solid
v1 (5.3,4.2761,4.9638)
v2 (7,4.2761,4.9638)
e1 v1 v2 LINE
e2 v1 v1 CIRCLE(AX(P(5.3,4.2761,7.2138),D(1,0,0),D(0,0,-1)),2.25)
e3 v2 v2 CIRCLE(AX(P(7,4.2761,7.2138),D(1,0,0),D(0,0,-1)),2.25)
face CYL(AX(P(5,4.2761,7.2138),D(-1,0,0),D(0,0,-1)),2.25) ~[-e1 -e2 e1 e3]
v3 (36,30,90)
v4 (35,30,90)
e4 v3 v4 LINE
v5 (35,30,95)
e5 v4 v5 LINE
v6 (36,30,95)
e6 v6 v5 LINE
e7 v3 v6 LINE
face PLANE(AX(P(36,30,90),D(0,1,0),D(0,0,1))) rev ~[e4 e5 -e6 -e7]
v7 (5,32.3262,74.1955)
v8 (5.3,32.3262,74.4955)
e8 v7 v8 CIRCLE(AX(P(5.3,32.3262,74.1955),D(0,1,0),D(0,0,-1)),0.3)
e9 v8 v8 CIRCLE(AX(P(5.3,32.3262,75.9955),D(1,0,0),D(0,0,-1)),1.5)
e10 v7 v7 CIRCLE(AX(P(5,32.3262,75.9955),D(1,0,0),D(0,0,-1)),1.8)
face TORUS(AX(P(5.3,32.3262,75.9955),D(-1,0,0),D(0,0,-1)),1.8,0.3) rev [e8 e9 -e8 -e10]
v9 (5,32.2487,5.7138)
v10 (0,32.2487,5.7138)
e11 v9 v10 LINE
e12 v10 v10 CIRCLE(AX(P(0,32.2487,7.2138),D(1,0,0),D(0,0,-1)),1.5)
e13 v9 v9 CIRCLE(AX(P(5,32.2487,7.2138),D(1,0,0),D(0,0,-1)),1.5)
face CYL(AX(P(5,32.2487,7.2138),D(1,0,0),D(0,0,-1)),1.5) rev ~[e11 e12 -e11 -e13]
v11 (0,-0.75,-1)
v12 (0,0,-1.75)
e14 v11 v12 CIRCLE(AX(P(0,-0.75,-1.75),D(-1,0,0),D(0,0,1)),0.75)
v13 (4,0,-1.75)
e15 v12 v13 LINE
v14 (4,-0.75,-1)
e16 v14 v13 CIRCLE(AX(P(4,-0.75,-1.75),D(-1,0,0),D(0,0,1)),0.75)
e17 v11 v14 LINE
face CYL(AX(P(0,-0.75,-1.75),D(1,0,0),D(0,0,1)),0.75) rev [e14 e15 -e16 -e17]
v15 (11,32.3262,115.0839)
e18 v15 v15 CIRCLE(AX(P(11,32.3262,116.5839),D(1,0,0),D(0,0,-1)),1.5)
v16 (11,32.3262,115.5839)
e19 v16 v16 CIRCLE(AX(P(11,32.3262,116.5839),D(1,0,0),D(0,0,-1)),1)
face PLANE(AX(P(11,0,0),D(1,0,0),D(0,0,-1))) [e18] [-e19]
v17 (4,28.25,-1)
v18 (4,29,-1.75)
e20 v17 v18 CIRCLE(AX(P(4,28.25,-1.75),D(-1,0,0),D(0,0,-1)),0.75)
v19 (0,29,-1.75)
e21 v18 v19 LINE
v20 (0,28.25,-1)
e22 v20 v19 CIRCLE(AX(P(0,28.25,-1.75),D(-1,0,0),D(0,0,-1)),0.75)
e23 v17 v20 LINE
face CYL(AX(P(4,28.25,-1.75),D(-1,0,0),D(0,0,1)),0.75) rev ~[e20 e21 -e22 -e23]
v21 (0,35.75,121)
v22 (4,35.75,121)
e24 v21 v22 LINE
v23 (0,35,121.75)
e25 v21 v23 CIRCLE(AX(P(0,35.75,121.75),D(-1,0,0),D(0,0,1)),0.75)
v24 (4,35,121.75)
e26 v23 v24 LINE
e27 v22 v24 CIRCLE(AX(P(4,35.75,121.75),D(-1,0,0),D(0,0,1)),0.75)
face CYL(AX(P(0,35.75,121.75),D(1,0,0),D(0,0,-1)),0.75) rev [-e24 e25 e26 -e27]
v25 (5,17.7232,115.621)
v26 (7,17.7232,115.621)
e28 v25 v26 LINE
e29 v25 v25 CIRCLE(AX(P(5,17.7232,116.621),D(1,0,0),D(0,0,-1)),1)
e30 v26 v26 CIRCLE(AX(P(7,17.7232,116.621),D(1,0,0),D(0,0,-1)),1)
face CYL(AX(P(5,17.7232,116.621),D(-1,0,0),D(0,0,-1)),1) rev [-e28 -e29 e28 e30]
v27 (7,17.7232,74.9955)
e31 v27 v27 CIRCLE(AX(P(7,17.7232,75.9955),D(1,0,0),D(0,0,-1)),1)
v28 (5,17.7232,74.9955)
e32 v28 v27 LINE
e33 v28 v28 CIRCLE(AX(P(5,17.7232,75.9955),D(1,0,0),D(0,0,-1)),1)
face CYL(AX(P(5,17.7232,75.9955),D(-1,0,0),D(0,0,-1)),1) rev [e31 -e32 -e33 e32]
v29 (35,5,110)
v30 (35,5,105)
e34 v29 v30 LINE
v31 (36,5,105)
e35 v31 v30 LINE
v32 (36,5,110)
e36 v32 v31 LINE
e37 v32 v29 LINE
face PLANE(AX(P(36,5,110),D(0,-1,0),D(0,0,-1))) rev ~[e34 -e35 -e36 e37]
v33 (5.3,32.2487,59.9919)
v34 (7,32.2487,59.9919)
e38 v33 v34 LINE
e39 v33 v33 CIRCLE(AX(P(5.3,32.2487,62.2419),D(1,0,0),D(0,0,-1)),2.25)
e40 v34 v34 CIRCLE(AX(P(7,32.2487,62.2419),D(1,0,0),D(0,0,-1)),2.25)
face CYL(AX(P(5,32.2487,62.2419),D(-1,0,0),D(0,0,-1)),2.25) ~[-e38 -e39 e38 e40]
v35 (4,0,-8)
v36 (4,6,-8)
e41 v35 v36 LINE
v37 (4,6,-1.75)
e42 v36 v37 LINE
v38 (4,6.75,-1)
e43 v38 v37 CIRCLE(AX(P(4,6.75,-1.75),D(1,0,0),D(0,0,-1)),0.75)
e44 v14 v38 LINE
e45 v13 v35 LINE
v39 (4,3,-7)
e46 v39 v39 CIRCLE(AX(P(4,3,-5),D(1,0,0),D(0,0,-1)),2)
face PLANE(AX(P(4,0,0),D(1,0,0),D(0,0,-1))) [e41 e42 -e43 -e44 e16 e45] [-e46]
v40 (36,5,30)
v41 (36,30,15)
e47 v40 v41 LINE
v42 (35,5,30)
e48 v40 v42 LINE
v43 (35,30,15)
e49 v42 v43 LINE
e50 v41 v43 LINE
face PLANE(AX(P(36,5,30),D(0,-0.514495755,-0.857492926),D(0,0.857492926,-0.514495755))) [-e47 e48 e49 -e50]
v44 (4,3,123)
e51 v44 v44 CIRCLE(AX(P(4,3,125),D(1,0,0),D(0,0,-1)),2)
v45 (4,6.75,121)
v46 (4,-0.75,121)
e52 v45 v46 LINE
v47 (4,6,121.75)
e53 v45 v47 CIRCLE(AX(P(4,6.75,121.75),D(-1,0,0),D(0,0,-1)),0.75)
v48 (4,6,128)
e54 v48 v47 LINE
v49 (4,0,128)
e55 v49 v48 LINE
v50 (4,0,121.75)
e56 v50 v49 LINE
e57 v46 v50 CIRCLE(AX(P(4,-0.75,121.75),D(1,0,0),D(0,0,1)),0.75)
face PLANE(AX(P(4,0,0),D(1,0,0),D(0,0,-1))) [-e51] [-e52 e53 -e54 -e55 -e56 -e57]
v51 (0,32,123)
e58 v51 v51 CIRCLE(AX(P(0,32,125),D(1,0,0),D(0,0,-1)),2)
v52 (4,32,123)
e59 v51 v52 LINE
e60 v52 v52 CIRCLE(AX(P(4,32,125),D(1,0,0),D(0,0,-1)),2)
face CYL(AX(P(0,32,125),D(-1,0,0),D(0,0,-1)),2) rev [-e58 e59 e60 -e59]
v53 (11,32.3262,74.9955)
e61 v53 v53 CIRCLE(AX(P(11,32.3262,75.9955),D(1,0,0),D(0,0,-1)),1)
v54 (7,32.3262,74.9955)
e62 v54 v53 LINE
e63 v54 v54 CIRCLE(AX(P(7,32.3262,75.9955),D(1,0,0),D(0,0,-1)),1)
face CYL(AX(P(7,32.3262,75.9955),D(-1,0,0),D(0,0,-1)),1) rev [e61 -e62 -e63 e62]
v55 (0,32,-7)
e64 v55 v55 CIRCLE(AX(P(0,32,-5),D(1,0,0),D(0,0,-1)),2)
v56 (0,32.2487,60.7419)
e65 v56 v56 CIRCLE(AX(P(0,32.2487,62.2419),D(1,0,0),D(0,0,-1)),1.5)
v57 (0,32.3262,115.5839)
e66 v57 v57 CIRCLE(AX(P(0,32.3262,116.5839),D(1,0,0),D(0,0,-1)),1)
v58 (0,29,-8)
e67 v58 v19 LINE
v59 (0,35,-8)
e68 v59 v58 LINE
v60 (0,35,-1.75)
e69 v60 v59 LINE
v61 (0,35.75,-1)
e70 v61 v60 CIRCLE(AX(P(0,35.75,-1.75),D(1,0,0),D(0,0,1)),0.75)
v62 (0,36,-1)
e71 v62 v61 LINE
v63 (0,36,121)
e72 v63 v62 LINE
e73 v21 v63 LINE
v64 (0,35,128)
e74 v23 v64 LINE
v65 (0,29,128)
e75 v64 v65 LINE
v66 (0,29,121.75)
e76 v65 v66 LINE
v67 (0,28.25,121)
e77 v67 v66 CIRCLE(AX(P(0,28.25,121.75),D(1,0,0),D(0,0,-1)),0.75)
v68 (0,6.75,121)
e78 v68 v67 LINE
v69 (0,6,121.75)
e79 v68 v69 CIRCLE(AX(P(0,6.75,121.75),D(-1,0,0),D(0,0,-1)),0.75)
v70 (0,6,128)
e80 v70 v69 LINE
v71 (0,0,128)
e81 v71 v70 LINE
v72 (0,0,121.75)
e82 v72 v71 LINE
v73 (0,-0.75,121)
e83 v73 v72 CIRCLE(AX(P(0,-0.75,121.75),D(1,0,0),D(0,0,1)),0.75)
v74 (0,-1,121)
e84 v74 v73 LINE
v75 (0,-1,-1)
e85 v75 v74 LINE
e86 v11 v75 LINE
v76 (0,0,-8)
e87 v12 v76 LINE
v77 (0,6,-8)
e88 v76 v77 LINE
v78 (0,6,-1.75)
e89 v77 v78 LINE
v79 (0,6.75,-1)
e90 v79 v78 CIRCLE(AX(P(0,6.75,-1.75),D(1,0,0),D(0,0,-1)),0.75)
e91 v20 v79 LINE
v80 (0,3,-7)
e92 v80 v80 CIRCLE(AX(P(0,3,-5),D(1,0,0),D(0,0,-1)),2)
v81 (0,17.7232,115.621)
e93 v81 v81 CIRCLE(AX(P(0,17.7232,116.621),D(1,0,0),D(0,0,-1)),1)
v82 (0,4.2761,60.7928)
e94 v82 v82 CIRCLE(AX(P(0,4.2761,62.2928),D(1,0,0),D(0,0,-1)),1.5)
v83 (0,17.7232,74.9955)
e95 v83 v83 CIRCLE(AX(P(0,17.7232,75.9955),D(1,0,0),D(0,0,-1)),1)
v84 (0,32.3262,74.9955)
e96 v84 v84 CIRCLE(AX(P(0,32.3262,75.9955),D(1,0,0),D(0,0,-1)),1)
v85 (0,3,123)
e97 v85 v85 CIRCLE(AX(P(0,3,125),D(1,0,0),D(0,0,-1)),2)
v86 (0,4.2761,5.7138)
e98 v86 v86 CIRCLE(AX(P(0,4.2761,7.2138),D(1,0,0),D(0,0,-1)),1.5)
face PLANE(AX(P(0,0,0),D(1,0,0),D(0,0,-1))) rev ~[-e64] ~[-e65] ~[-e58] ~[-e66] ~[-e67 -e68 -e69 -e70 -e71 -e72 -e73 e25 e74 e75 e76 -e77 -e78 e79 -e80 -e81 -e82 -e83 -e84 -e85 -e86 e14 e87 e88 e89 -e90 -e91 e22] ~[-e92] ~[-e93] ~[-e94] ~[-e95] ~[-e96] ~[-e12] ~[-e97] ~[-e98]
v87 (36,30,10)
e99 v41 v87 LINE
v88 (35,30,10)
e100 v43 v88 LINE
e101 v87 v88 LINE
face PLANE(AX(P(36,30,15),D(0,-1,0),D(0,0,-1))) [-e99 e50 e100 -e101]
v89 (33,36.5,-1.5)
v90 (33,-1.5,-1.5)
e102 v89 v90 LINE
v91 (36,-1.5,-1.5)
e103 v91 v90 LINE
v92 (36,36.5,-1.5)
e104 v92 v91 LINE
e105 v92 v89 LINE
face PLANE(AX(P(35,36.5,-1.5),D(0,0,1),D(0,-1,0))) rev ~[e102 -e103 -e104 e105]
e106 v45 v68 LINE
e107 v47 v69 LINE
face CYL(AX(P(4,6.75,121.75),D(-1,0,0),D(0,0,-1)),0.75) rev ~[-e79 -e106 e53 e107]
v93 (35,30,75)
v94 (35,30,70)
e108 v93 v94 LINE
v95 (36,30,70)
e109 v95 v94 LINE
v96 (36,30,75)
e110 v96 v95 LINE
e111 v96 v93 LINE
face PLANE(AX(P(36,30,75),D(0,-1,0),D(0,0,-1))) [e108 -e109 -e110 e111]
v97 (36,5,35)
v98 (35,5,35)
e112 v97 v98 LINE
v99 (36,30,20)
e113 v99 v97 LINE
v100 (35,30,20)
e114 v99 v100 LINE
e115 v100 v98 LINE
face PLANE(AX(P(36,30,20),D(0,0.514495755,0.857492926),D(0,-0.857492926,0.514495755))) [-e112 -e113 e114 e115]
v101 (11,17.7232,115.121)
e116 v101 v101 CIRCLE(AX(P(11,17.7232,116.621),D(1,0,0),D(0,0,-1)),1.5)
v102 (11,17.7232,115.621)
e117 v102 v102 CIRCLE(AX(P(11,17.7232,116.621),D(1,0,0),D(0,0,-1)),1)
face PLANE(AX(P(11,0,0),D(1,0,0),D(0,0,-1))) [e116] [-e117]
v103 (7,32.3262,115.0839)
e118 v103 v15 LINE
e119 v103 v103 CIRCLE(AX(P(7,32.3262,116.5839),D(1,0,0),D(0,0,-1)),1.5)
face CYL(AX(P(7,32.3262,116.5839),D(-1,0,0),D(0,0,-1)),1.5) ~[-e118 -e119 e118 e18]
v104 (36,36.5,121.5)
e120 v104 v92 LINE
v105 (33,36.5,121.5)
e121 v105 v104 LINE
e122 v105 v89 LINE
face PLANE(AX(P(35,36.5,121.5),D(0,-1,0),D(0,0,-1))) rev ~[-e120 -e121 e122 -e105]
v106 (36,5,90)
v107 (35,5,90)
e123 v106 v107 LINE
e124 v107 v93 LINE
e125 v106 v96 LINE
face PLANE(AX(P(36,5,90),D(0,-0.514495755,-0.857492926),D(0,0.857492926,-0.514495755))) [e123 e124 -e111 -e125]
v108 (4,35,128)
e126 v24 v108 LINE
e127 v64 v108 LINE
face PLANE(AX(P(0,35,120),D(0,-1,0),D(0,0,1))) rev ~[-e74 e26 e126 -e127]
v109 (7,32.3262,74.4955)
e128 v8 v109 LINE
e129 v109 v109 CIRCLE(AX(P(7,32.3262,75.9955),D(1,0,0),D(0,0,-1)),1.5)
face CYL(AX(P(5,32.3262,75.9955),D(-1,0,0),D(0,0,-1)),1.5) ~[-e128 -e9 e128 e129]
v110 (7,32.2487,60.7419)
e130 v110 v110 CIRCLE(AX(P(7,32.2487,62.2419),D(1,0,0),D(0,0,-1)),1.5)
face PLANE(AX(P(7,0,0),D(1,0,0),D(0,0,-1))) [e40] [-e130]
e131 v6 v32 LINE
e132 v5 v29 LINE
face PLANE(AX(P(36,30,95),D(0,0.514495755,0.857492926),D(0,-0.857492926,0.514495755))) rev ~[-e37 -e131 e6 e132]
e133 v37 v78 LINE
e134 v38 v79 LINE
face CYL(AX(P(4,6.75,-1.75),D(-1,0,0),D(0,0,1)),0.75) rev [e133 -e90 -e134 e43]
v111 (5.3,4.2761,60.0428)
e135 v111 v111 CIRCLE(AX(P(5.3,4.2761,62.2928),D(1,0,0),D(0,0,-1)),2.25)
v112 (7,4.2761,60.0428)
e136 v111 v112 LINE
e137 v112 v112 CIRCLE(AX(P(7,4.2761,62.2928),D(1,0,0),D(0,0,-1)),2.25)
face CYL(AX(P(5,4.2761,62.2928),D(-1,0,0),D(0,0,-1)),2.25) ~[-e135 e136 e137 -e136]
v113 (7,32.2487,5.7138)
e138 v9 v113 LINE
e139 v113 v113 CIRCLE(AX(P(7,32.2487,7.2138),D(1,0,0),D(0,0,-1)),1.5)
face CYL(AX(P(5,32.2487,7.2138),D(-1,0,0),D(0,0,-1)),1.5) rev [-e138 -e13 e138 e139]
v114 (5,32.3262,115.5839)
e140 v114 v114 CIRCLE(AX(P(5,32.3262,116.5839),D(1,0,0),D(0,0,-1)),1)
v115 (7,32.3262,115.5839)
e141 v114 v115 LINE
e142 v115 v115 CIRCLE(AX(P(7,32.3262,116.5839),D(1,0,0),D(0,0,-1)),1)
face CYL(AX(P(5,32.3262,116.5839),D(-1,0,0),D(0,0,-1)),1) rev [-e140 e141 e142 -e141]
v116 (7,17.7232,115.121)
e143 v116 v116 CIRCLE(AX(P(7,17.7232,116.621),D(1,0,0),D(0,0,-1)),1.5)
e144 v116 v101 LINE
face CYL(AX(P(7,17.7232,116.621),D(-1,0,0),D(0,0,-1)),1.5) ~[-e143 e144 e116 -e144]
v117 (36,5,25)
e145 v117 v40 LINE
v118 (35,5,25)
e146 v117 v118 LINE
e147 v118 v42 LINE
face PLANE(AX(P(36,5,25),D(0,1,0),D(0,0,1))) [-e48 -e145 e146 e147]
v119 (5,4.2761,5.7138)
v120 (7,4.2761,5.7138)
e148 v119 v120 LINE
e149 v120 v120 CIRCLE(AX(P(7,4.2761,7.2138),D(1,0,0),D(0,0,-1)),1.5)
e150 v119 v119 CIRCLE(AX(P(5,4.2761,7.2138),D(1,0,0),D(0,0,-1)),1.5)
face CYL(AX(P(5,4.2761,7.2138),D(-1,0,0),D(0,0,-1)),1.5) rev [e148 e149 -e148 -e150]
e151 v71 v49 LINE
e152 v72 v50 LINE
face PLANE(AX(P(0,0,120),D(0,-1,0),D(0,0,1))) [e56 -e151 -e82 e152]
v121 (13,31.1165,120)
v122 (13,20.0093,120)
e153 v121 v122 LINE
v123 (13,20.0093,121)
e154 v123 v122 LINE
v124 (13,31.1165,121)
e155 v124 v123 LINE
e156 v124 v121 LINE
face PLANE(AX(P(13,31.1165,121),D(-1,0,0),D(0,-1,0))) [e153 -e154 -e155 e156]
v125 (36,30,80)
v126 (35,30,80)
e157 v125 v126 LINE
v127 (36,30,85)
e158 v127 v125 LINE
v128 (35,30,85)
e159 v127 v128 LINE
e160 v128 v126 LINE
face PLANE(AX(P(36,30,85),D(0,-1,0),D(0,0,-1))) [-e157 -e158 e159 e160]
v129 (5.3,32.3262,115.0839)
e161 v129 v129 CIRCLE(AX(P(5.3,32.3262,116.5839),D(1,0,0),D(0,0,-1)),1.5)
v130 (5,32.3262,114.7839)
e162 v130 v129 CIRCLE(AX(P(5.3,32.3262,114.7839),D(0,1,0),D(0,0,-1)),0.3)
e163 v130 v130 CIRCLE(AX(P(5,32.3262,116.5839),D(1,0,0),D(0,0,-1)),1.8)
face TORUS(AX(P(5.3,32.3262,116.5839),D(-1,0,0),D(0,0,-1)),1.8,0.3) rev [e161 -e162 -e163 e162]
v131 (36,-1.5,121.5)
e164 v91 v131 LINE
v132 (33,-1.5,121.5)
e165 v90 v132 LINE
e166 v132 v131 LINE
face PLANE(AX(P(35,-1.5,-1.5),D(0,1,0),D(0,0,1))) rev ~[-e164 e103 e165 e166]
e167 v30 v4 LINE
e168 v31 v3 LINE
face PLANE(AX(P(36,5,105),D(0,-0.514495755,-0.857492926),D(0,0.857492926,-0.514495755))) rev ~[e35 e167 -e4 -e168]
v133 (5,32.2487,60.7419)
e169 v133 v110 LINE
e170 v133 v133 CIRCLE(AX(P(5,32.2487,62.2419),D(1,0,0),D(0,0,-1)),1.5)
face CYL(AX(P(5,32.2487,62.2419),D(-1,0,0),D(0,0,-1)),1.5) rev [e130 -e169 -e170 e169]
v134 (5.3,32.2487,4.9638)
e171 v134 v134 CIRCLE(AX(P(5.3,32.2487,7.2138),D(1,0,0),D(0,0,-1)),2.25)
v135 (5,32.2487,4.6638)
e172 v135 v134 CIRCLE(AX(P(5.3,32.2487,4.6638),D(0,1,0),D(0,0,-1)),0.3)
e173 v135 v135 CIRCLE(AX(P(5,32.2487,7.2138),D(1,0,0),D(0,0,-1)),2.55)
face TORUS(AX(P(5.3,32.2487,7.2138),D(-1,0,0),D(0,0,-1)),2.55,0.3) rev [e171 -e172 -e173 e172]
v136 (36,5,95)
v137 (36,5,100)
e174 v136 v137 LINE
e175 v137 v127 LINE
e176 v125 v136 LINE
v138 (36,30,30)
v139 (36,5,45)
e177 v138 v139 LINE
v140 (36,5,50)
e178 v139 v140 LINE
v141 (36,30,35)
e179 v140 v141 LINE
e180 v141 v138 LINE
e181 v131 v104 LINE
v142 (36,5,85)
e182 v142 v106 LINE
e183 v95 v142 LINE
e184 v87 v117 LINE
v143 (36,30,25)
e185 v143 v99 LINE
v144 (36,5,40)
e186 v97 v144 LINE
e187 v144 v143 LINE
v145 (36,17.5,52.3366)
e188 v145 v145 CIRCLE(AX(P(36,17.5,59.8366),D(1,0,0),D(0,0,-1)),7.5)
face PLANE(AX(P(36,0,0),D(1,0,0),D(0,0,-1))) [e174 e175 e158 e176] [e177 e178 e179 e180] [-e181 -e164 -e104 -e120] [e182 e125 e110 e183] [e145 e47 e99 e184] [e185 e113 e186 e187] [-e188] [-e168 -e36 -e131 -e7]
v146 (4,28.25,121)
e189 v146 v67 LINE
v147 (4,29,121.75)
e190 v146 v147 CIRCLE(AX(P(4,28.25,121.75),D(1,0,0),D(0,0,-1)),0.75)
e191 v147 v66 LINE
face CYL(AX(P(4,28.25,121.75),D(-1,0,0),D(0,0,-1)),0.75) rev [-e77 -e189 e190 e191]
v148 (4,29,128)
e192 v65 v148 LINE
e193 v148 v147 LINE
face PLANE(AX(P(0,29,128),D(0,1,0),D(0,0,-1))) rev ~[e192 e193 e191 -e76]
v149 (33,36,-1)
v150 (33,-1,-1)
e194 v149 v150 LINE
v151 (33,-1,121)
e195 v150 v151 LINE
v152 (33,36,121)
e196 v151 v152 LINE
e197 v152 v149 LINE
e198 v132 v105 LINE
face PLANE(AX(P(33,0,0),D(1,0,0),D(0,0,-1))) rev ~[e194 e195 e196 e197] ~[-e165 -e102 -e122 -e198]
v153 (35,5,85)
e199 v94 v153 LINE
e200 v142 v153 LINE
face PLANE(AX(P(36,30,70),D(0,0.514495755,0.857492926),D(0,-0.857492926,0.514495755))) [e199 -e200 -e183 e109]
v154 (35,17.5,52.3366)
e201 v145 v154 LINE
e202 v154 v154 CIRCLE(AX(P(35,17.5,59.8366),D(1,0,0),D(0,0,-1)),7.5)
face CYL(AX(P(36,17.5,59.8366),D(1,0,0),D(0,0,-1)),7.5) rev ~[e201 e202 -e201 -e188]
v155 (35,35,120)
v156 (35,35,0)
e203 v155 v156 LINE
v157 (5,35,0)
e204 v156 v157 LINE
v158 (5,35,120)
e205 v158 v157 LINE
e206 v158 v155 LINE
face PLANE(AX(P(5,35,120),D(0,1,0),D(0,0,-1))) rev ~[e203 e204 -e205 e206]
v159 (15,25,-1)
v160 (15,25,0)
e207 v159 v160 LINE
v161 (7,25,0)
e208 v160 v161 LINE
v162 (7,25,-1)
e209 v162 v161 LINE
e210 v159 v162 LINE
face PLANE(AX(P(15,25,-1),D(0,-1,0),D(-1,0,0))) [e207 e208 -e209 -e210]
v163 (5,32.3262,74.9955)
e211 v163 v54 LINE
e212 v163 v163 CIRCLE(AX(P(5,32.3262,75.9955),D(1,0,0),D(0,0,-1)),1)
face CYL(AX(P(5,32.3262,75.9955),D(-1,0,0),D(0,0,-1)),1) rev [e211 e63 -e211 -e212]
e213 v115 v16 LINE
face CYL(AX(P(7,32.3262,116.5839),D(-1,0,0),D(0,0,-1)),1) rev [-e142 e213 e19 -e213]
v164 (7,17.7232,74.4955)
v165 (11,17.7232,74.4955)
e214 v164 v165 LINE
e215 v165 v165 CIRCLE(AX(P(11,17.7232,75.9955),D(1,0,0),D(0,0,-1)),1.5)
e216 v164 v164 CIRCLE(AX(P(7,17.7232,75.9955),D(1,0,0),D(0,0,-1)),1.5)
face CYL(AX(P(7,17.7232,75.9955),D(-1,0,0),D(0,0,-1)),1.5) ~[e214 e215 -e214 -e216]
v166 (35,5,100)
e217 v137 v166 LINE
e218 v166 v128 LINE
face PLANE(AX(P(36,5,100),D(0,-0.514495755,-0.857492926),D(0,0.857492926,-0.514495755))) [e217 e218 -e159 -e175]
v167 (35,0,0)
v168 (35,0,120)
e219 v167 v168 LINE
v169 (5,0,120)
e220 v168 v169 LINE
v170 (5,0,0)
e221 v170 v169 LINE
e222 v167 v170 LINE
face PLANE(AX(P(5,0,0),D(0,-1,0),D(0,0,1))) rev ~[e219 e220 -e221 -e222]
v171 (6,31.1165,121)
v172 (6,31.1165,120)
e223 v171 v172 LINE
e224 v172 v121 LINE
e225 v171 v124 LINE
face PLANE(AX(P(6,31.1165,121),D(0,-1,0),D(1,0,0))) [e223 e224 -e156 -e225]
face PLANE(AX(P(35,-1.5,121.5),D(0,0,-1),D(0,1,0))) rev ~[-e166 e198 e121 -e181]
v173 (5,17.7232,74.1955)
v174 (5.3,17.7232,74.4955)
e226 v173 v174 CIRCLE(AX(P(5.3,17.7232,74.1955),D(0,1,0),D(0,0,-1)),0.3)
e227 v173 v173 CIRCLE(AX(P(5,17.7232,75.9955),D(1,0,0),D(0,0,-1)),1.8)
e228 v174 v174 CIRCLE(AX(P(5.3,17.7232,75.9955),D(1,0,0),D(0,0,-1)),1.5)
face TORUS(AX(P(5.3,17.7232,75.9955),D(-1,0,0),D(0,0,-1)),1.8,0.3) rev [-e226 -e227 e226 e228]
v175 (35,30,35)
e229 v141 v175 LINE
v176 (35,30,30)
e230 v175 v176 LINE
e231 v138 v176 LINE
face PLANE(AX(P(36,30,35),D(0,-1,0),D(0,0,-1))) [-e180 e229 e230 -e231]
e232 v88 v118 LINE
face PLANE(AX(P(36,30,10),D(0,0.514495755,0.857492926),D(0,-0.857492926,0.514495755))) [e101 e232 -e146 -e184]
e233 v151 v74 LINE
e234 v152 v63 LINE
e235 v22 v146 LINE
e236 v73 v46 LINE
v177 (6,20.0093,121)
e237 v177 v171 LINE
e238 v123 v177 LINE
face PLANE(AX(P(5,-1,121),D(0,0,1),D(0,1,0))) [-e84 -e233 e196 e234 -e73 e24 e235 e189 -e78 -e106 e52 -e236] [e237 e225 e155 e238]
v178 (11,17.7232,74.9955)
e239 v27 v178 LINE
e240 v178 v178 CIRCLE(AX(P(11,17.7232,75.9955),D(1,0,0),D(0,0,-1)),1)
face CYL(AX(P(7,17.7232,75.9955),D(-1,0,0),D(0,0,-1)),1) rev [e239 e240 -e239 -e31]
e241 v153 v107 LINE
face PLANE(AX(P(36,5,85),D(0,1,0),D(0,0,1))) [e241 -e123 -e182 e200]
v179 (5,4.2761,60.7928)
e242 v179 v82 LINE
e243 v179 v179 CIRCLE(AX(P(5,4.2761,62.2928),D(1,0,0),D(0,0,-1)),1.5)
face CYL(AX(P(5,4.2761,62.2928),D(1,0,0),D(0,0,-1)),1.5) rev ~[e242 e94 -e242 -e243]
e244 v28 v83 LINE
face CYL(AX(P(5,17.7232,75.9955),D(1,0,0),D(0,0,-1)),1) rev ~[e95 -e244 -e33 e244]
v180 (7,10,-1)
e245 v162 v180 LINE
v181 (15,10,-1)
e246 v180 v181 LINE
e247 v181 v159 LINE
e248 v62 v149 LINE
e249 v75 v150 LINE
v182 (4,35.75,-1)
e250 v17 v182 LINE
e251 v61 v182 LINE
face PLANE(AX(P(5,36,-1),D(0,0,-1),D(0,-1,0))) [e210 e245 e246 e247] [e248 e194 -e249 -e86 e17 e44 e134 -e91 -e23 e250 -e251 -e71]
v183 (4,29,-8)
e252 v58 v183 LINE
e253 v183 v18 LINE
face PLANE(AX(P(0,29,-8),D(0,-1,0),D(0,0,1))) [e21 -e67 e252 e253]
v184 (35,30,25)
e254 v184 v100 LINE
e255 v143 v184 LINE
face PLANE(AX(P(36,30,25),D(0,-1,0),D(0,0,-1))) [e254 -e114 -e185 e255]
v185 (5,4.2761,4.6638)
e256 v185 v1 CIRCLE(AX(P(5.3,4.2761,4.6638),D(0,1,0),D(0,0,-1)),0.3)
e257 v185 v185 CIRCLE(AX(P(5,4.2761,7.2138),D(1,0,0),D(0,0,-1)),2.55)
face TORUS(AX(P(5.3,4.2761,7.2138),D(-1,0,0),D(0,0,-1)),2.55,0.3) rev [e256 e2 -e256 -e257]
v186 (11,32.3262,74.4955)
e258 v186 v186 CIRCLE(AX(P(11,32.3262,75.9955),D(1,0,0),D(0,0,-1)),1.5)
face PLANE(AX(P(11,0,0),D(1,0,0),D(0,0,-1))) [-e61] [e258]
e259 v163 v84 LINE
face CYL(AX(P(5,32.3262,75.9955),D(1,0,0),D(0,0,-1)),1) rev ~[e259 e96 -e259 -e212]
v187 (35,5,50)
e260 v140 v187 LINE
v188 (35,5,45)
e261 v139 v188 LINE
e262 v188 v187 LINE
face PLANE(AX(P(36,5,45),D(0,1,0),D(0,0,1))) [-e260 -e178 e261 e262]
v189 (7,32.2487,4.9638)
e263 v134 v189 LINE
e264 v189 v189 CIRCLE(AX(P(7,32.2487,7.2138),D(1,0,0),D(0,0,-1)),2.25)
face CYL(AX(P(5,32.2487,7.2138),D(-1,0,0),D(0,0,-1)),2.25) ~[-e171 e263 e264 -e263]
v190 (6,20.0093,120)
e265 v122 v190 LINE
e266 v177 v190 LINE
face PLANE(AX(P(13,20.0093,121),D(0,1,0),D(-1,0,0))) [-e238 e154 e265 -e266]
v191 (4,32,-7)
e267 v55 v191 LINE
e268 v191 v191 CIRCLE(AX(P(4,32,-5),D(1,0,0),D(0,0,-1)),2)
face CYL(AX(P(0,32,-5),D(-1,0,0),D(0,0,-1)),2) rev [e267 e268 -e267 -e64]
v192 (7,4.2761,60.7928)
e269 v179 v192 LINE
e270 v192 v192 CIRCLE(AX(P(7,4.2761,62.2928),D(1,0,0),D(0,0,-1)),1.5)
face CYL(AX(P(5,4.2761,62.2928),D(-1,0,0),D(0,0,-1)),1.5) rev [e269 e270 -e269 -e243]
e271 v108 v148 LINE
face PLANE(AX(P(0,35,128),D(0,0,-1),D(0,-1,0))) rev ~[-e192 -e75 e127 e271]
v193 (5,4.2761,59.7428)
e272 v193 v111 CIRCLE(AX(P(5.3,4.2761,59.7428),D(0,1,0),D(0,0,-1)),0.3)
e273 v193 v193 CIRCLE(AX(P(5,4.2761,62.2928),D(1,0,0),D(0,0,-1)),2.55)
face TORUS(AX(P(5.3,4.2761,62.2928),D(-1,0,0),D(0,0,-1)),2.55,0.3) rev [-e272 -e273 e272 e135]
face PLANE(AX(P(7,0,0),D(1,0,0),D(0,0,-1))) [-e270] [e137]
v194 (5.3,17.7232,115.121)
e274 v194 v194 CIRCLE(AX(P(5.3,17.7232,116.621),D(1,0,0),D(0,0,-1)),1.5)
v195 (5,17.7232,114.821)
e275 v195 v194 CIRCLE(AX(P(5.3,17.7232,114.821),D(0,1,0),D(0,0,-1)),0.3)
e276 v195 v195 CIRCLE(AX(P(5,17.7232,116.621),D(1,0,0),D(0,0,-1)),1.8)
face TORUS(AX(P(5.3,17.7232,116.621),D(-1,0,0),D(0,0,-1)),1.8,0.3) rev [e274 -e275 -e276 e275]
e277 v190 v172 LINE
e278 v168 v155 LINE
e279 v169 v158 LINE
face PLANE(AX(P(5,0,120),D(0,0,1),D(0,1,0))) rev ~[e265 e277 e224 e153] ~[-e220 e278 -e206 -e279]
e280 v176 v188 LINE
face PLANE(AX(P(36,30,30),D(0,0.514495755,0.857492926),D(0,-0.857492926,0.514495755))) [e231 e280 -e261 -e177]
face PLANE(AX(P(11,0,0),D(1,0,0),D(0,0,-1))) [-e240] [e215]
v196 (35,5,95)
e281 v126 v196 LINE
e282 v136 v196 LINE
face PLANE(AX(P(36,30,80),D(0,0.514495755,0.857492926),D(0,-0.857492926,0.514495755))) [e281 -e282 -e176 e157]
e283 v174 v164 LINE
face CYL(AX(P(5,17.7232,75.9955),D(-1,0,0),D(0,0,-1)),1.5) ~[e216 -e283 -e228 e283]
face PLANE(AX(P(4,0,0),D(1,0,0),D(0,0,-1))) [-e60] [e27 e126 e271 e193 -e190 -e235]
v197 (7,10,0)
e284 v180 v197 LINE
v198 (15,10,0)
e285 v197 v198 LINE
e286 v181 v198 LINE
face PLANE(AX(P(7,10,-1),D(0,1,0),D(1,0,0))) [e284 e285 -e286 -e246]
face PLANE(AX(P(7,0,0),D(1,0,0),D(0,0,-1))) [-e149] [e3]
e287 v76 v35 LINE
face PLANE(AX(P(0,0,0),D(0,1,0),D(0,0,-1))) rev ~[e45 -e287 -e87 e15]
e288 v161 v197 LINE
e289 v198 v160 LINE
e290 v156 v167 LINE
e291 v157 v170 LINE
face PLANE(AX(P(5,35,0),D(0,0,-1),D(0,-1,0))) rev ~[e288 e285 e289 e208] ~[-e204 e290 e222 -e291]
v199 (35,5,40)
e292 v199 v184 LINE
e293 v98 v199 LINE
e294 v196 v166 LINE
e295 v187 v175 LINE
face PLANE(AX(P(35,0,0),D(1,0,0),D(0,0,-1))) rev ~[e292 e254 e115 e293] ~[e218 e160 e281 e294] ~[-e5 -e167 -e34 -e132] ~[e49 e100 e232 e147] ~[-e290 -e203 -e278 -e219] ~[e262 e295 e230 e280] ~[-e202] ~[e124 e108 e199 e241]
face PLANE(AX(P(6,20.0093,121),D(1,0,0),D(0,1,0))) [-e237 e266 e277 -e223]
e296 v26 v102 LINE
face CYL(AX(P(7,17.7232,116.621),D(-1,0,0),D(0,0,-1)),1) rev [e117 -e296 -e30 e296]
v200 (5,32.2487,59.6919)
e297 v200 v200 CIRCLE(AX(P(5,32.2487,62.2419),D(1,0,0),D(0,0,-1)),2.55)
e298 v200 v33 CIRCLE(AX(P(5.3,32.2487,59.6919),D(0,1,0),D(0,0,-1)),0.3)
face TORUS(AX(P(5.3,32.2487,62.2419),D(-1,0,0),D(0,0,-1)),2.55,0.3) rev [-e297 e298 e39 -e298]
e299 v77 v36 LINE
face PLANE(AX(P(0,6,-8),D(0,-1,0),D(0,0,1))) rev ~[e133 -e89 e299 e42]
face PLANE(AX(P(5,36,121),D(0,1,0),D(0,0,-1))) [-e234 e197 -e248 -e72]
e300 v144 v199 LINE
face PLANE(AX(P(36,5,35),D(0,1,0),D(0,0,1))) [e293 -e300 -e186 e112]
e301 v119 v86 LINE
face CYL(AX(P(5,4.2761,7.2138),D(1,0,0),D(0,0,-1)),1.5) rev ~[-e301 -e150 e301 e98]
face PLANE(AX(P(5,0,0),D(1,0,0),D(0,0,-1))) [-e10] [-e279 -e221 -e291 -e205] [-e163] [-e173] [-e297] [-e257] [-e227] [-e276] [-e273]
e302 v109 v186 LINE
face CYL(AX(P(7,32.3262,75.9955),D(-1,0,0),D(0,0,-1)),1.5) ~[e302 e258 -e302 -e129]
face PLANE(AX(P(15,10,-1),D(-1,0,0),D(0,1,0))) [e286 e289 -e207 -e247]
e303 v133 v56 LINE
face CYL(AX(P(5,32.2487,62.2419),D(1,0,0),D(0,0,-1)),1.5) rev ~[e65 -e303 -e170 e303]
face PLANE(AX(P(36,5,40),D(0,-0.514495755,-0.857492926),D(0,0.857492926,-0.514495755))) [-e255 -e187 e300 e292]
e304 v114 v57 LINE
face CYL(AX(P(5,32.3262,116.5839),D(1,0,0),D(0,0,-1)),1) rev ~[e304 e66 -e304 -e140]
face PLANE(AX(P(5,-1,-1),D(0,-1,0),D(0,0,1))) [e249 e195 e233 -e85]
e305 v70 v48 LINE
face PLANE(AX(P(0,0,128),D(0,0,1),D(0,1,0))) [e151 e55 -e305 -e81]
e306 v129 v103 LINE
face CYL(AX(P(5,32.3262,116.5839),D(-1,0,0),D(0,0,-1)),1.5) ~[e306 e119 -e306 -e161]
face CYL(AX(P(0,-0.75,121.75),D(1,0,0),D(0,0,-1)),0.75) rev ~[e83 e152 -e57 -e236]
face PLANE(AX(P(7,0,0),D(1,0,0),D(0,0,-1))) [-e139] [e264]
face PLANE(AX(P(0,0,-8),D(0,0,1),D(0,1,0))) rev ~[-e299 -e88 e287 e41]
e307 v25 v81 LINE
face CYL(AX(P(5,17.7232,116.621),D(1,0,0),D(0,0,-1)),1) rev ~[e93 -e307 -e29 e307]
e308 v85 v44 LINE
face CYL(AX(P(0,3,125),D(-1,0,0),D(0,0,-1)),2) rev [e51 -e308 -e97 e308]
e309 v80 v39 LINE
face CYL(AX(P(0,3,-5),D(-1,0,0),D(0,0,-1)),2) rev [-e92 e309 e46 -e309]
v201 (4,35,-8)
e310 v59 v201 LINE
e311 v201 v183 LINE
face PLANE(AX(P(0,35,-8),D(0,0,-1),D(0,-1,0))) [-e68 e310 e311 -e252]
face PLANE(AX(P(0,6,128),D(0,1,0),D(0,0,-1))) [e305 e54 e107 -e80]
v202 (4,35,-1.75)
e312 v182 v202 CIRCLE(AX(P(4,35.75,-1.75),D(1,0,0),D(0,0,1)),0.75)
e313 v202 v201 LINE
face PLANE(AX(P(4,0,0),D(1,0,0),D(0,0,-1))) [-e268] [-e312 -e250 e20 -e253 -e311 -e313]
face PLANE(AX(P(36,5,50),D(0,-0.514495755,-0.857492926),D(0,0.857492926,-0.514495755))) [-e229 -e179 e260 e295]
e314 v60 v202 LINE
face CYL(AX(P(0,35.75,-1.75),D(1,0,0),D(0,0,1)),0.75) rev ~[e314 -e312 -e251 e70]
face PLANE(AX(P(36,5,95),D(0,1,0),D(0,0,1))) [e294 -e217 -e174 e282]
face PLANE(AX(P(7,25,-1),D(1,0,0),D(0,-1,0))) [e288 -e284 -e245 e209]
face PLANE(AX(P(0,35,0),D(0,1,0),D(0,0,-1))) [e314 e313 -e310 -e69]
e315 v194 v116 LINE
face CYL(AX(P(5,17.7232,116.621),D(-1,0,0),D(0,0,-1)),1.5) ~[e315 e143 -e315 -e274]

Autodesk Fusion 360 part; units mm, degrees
sketch "Sketch1" plane through (0, 0, 0) normal (1, 0, 0) x (0, 0, -1)
  line L0 (0, 0) -> (-120, 0)
  line L1 (-120, 0) -> (-120, 35)
  line L2 (-120, 35) -> (0, 35)
  line L3 (0, 35) -> (0, 0)
  line L4 (-120, 35) -> (-128, 35)
  line L5 (-128, 35) -> (-128, 29)
  line L6 (-128, 29) -> (-120, 29)
  line L7 (-120, 29) -> (-120, 35)
  line L8 (-120, 0) -> (-128, 0)
  line L9 (-128, 0) -> (-128, 6)
  line L10 (-128, 6) -> (-120, 6)
  line L11 (-120, 6) -> (-120, 0)
  line L12 (0, 35) -> (8, 35)
  line L13 (8, 35) -> (8, 29)
  line L14 (8, 29) -> (0, 29)
  line L15 (0, 29) -> (0, 35)
  line L16 (0, 0) -> (8, 0)
  line L17 (8, 0) -> (8, 6)
  line L18 (8, 6) -> (0, 6)
  line L19 (0, 6) -> (0, 0)
  circle A0 centre (5, 32) radius 2
  circle A1 centre (5, 3) radius 2
  circle A2 centre (-125, 3) radius 2
  circle A3 centre (-125, 32) radius 2
  dimension "d1" = 120
  dimension "d2" = 35
  dimension "d31" = 8
  dimension "d32" = 6
  dimension "d33" = 8
  dimension "d34" = 6
  dimension "d35" = 8
  dimension "d36" = 6
  dimension "d37" = 8
  dimension "d38" = 6
  dimension "d39" = 4
  dimension "d40" = 4
  dimension "d41" = 4
  dimension "d42" = 4
extrude "Extrude1" add sketch "Sketch1" along normal blind 5 contours L0 L1 L2 L3 L7 L11 L15 L19
sketch "Sketch2" plane through (5, 0, 0) normal (1, 0, 0) x (0, 0, -1)
  line L0 (0, 35) -> (-120, 35)
  line L1 (-120, 35) -> (-120, 0)
  line L2 (-120, 0) -> (0, 0)
  line L3 (0, 0) -> (0, 35)
  circle A0 centre (-62.2419, 32.2487) radius 1.5
  circle A1 centre (-7.2138, 32.2487) radius 1.5
  circle A2 centre (-7.2138, 4.2761) radius 1.5
  circle A3 centre (-62.2928, 4.2761) radius 1.5
  circle A4 centre (-116.5839, 32.3262) radius 1
  circle A5 centre (-75.9955, 32.3262) radius 1
  circle A6 centre (-75.9955, 17.7232) radius 1
  circle A7 centre (-116.621, 17.7232) radius 1
  circle A8 centre (-7.2138, 4.2761) radius 2.25
  circle A9 centre (-7.2138, 32.2487) radius 2.25
  circle A10 centre (-62.2928, 4.2761) radius 2.25
  circle A11 centre (-62.2419, 32.2487) radius 2.25
  circle A12 centre (-75.9955, 32.3262) radius 1.5
  circle A13 centre (-75.9955, 17.7232) radius 1.5
  circle A14 centre (-116.621, 17.7232) radius 1.5
  circle A15 centre (-116.5839, 32.3262) radius 1.5
  dimension "d5" = 3
  dimension "d6" = 3
  dimension "d7" = 3
  dimension "d8" = 3
  dimension "d9" = 2
  dimension "d10" = 2
  dimension "d11" = 2
  dimension "d12" = 2
  dimension "d13" = 4.5
  dimension "d14" = 4.5
  dimension "d15" = 4.5
  dimension "d16" = 4.5
  dimension "d17" = 3
  dimension "d18" = 3
  dimension "d19" = 3
  dimension "d20" = 3
extrude "Extrude2" cut sketch "Sketch2" against normal blind 30 contours A0 | A1 | A2 | A3 | A4 | A5 | A6 | A7
extrude "Extrude3" add sketch "Sketch2" along normal blind 2 contours A8 | A9 | A10 | A11 | A12 | A13 | A14 | A15
fillet "Fillet1" radius 0.3 8 edges at (5, 32.8686, 117.9824) (5, 18.2657, 118.0194) (5, 18.2657, 77.394) (5, 32.8686, 77.394) (5, 5.0897, 64.3906) (5, 5.0897, 9.3115) (5, 33.0624, 9.3115) (5, 33.0624, 64.3396)
sketch "Sketch3" plane through (5, 0, 0) normal (1, 0, 0) x (0, 0, -1)
  line L0 (1, -1) -> (-121, -1)
  line L1 (-121, -1) -> (-121, 36)
  line L2 (-121, 36) -> (1, 36)
  line L3 (1, 36) -> (1, -1)
  line L4 (-120, 35) -> (0, 35)
  line L5 (0, 35) -> (0, 0)
  line L6 (0, 0) -> (-120, 0)
  line L7 (-120, 0) -> (-120, 35)
extrude "Extrude4" add sketch "Sketch3" along normal blind 30 and the other way blind 5
extrude "Extrude6" add sketch "Sketch1" along normal blind 4 contours L3 L16 L17 L18 L19 | L1 L8 L9 L10 L11 | L3 L12 L13 L14 L15 | L1 L4 L5 L6 L7
fillet "Fillet2" radius 0.75 8 edges at (2, 29, -1) (2, 35, -1) (2, 6, -1) (2, 0, -1) (2, 0, 121) (2, 6, 121) (2, 29, 121) (2, 35, 121)
extrude "Extrude7" add 4 faces at (7, 32.6463, 115.2932) (7, 16.46, 117.0367) (7, 33.1357, 77.0506) (7, 17.6487, 74.6678) along direction (1, 0, 0) blind 4
sketch "Sketch4" plane through (0, 0, 121) normal (0, 0, 1) x (1, 0, 0)
  line L0 (0, 35.75) -> (4, 35.75)
  line L1 (4, 35.75) -> (4, 28.25)
  line L2 (4, 28.25) -> (0, 28.25)
  line L3 (0, 28.25) -> (0, 6.75)
  line L4 (0, 6.75) -> (4, 6.75)
  line L5 (4, 6.75) -> (4, -0.75)
  line L6 (4, -0.75) -> (0, -0.75)
  line L7 (0, -0.75) -> (0, -1)
  line L8 (0, -1) -> (35, -1)
  line L9 (35, -1) -> (35, 36)
  line L10 (35, 36) -> (0, 36)
  line L11 (0, 36) -> (0, 35.75)
  line L12 (6, 31.1165) -> (13, 31.1165)
  line L13 (13, 31.1165) -> (13, 20.0093)
  line L14 (13, 20.0093) -> (6, 20.0093)
  line L15 (6, 20.0093) -> (6, 31.1165)
extrude "Extrude8" cut sketch "Sketch4" against normal blind 1 contours L12 L13 L14 L15
sketch "Sketch5" plane through (0, 0, 121) normal (0, 0, 1) x (1, 0, 0)
sketch "Sketch6" plane through (0, 0, -1) normal (0, 0, -1) x (-1, 0, 0)
  line L0 (0, -0.75) -> (-4, -0.75)
  line L1 (-4, -0.75) -> (-4, 6.75)
  line L2 (-4, 6.75) -> (0, 6.75)
  line L3 (0, 6.75) -> (0, 28.25)
  line L4 (0, 28.25) -> (-4, 28.25)
  line L5 (-4, 28.25) -> (-4, 35.75)
  line L6 (-4, 35.75) -> (0, 35.75)
  line L7 (0, 35.75) -> (0, 36)
  line L8 (0, 36) -> (-35, 36)
  line L9 (-35, 36) -> (-35, -1)
  line L10 (-35, -1) -> (0, -1)
  line L11 (0, -1) -> (0, -0.75)
  line L12 (-15, 25) -> (-7, 25)
  line L13 (-7, 25) -> (-7, 10)
  line L14 (-7, 10) -> (-15, 10)
  line L15 (-15, 10) -> (-15, 25)
extrude "Extrude9" cut sketch "Sketch6" against normal blind 1 contours L12 L13 L14 L15
sketch "Sketch7" plane through (35, 0, 0) normal (1, 0, 0) x (0, 0, -1)
  line L0 (0, 0) -> (-120, 0)
  line L1 (-120, 0) -> (-120, 35)
  line L2 (-120, 35) -> (0, 35)
  line L3 (0, 35) -> (0, 0)
  line L4 (1, 36) -> (-121, 36)
  line L5 (-121, 36) -> (-121, -1)
  line L6 (-121, -1) -> (1, -1)
  line L7 (1, -1) -> (1, 36)
  line L8 (-121.5, 36.5) -> (1.5, 36.5)
  line L9 (1.5, 36.5) -> (1.5, -1.5)
  line L10 (1.5, -1.5) -> (-121.5, -1.5)
  line L11 (-121.5, -1.5) -> (-121.5, 36.5)
extrude "Extrude10" add sketch "Sketch7" along normal blind 1 contours L0 L1 L2 L3 | L4 L5 L6 L7 | L8 L9 L10 L11
extrude "Extrude11" add 1 faces at (35, 36.3333, 80.3333) along direction (-1, 0, 0) blind 2
sketch "Sketch8" plane through (36, 0, 0) normal (1, 0, 0) x (0, 0, -1)
  line L0 (-121.5, -1.5) -> (1.5, -1.5)
  line L1 (1.5, -1.5) -> (1.5, 36.5)
  line L2 (1.5, 36.5) -> (-121.5, 36.5)
  line L3 (-121.5, 36.5) -> (-121.5, -1.5)
  line L4 (-95, 30) -> (-110, 5)
  line L5 (-110, 5) -> (-105, 5)
  line L6 (-105, 5) -> (-90, 30)
  line L7 (-90, 30) -> (-95, 30)
  line L8 (-85, 30) -> (-80, 30)
  line L9 (-80, 30) -> (-95, 5)
  line L10 (-95, 5) -> (-100, 5)
  line L11 (-100, 5) -> (-85, 30)
  line L12 (-75, 30) -> (-70, 30)
  line L13 (-70, 30) -> (-85, 5)
  line L14 (-85, 5) -> (-90, 5)
  line L15 (-90, 5) -> (-75, 30)
  line L16 (-35, 30) -> (-30, 30)
  line L17 (-30, 30) -> (-45, 5)
  line L18 (-45, 5) -> (-50, 5)
  line L19 (-50, 5) -> (-35, 30)
  line L20 (-25, 30) -> (-20, 30)
  line L21 (-20, 30) -> (-35, 5)
  line L22 (-35, 5) -> (-40, 5)
  line L23 (-40, 5) -> (-25, 30)
  line L24 (-10, 30) -> (-25, 5)
  line L25 (-25, 5) -> (-30, 5)
  line L26 (-30, 5) -> (-15, 30)
  line L27 (-15, 30) -> (-10, 30)
  circle A0 centre (-59.8366, 17.5) radius 7.5
  dimension "d59" = 15
extrude "Extrude12" cut sketch "Sketch8" against normal blind 5 contours L4 L5 L6 L7 | L8 L9 L10 L11 | L12 L13 L14 L15 | L16 L17 L18 L19 | L20 L21 L22 L23 | L24 L25 L26 L27 | A0
extrude "Extrude5" [suppressed]
